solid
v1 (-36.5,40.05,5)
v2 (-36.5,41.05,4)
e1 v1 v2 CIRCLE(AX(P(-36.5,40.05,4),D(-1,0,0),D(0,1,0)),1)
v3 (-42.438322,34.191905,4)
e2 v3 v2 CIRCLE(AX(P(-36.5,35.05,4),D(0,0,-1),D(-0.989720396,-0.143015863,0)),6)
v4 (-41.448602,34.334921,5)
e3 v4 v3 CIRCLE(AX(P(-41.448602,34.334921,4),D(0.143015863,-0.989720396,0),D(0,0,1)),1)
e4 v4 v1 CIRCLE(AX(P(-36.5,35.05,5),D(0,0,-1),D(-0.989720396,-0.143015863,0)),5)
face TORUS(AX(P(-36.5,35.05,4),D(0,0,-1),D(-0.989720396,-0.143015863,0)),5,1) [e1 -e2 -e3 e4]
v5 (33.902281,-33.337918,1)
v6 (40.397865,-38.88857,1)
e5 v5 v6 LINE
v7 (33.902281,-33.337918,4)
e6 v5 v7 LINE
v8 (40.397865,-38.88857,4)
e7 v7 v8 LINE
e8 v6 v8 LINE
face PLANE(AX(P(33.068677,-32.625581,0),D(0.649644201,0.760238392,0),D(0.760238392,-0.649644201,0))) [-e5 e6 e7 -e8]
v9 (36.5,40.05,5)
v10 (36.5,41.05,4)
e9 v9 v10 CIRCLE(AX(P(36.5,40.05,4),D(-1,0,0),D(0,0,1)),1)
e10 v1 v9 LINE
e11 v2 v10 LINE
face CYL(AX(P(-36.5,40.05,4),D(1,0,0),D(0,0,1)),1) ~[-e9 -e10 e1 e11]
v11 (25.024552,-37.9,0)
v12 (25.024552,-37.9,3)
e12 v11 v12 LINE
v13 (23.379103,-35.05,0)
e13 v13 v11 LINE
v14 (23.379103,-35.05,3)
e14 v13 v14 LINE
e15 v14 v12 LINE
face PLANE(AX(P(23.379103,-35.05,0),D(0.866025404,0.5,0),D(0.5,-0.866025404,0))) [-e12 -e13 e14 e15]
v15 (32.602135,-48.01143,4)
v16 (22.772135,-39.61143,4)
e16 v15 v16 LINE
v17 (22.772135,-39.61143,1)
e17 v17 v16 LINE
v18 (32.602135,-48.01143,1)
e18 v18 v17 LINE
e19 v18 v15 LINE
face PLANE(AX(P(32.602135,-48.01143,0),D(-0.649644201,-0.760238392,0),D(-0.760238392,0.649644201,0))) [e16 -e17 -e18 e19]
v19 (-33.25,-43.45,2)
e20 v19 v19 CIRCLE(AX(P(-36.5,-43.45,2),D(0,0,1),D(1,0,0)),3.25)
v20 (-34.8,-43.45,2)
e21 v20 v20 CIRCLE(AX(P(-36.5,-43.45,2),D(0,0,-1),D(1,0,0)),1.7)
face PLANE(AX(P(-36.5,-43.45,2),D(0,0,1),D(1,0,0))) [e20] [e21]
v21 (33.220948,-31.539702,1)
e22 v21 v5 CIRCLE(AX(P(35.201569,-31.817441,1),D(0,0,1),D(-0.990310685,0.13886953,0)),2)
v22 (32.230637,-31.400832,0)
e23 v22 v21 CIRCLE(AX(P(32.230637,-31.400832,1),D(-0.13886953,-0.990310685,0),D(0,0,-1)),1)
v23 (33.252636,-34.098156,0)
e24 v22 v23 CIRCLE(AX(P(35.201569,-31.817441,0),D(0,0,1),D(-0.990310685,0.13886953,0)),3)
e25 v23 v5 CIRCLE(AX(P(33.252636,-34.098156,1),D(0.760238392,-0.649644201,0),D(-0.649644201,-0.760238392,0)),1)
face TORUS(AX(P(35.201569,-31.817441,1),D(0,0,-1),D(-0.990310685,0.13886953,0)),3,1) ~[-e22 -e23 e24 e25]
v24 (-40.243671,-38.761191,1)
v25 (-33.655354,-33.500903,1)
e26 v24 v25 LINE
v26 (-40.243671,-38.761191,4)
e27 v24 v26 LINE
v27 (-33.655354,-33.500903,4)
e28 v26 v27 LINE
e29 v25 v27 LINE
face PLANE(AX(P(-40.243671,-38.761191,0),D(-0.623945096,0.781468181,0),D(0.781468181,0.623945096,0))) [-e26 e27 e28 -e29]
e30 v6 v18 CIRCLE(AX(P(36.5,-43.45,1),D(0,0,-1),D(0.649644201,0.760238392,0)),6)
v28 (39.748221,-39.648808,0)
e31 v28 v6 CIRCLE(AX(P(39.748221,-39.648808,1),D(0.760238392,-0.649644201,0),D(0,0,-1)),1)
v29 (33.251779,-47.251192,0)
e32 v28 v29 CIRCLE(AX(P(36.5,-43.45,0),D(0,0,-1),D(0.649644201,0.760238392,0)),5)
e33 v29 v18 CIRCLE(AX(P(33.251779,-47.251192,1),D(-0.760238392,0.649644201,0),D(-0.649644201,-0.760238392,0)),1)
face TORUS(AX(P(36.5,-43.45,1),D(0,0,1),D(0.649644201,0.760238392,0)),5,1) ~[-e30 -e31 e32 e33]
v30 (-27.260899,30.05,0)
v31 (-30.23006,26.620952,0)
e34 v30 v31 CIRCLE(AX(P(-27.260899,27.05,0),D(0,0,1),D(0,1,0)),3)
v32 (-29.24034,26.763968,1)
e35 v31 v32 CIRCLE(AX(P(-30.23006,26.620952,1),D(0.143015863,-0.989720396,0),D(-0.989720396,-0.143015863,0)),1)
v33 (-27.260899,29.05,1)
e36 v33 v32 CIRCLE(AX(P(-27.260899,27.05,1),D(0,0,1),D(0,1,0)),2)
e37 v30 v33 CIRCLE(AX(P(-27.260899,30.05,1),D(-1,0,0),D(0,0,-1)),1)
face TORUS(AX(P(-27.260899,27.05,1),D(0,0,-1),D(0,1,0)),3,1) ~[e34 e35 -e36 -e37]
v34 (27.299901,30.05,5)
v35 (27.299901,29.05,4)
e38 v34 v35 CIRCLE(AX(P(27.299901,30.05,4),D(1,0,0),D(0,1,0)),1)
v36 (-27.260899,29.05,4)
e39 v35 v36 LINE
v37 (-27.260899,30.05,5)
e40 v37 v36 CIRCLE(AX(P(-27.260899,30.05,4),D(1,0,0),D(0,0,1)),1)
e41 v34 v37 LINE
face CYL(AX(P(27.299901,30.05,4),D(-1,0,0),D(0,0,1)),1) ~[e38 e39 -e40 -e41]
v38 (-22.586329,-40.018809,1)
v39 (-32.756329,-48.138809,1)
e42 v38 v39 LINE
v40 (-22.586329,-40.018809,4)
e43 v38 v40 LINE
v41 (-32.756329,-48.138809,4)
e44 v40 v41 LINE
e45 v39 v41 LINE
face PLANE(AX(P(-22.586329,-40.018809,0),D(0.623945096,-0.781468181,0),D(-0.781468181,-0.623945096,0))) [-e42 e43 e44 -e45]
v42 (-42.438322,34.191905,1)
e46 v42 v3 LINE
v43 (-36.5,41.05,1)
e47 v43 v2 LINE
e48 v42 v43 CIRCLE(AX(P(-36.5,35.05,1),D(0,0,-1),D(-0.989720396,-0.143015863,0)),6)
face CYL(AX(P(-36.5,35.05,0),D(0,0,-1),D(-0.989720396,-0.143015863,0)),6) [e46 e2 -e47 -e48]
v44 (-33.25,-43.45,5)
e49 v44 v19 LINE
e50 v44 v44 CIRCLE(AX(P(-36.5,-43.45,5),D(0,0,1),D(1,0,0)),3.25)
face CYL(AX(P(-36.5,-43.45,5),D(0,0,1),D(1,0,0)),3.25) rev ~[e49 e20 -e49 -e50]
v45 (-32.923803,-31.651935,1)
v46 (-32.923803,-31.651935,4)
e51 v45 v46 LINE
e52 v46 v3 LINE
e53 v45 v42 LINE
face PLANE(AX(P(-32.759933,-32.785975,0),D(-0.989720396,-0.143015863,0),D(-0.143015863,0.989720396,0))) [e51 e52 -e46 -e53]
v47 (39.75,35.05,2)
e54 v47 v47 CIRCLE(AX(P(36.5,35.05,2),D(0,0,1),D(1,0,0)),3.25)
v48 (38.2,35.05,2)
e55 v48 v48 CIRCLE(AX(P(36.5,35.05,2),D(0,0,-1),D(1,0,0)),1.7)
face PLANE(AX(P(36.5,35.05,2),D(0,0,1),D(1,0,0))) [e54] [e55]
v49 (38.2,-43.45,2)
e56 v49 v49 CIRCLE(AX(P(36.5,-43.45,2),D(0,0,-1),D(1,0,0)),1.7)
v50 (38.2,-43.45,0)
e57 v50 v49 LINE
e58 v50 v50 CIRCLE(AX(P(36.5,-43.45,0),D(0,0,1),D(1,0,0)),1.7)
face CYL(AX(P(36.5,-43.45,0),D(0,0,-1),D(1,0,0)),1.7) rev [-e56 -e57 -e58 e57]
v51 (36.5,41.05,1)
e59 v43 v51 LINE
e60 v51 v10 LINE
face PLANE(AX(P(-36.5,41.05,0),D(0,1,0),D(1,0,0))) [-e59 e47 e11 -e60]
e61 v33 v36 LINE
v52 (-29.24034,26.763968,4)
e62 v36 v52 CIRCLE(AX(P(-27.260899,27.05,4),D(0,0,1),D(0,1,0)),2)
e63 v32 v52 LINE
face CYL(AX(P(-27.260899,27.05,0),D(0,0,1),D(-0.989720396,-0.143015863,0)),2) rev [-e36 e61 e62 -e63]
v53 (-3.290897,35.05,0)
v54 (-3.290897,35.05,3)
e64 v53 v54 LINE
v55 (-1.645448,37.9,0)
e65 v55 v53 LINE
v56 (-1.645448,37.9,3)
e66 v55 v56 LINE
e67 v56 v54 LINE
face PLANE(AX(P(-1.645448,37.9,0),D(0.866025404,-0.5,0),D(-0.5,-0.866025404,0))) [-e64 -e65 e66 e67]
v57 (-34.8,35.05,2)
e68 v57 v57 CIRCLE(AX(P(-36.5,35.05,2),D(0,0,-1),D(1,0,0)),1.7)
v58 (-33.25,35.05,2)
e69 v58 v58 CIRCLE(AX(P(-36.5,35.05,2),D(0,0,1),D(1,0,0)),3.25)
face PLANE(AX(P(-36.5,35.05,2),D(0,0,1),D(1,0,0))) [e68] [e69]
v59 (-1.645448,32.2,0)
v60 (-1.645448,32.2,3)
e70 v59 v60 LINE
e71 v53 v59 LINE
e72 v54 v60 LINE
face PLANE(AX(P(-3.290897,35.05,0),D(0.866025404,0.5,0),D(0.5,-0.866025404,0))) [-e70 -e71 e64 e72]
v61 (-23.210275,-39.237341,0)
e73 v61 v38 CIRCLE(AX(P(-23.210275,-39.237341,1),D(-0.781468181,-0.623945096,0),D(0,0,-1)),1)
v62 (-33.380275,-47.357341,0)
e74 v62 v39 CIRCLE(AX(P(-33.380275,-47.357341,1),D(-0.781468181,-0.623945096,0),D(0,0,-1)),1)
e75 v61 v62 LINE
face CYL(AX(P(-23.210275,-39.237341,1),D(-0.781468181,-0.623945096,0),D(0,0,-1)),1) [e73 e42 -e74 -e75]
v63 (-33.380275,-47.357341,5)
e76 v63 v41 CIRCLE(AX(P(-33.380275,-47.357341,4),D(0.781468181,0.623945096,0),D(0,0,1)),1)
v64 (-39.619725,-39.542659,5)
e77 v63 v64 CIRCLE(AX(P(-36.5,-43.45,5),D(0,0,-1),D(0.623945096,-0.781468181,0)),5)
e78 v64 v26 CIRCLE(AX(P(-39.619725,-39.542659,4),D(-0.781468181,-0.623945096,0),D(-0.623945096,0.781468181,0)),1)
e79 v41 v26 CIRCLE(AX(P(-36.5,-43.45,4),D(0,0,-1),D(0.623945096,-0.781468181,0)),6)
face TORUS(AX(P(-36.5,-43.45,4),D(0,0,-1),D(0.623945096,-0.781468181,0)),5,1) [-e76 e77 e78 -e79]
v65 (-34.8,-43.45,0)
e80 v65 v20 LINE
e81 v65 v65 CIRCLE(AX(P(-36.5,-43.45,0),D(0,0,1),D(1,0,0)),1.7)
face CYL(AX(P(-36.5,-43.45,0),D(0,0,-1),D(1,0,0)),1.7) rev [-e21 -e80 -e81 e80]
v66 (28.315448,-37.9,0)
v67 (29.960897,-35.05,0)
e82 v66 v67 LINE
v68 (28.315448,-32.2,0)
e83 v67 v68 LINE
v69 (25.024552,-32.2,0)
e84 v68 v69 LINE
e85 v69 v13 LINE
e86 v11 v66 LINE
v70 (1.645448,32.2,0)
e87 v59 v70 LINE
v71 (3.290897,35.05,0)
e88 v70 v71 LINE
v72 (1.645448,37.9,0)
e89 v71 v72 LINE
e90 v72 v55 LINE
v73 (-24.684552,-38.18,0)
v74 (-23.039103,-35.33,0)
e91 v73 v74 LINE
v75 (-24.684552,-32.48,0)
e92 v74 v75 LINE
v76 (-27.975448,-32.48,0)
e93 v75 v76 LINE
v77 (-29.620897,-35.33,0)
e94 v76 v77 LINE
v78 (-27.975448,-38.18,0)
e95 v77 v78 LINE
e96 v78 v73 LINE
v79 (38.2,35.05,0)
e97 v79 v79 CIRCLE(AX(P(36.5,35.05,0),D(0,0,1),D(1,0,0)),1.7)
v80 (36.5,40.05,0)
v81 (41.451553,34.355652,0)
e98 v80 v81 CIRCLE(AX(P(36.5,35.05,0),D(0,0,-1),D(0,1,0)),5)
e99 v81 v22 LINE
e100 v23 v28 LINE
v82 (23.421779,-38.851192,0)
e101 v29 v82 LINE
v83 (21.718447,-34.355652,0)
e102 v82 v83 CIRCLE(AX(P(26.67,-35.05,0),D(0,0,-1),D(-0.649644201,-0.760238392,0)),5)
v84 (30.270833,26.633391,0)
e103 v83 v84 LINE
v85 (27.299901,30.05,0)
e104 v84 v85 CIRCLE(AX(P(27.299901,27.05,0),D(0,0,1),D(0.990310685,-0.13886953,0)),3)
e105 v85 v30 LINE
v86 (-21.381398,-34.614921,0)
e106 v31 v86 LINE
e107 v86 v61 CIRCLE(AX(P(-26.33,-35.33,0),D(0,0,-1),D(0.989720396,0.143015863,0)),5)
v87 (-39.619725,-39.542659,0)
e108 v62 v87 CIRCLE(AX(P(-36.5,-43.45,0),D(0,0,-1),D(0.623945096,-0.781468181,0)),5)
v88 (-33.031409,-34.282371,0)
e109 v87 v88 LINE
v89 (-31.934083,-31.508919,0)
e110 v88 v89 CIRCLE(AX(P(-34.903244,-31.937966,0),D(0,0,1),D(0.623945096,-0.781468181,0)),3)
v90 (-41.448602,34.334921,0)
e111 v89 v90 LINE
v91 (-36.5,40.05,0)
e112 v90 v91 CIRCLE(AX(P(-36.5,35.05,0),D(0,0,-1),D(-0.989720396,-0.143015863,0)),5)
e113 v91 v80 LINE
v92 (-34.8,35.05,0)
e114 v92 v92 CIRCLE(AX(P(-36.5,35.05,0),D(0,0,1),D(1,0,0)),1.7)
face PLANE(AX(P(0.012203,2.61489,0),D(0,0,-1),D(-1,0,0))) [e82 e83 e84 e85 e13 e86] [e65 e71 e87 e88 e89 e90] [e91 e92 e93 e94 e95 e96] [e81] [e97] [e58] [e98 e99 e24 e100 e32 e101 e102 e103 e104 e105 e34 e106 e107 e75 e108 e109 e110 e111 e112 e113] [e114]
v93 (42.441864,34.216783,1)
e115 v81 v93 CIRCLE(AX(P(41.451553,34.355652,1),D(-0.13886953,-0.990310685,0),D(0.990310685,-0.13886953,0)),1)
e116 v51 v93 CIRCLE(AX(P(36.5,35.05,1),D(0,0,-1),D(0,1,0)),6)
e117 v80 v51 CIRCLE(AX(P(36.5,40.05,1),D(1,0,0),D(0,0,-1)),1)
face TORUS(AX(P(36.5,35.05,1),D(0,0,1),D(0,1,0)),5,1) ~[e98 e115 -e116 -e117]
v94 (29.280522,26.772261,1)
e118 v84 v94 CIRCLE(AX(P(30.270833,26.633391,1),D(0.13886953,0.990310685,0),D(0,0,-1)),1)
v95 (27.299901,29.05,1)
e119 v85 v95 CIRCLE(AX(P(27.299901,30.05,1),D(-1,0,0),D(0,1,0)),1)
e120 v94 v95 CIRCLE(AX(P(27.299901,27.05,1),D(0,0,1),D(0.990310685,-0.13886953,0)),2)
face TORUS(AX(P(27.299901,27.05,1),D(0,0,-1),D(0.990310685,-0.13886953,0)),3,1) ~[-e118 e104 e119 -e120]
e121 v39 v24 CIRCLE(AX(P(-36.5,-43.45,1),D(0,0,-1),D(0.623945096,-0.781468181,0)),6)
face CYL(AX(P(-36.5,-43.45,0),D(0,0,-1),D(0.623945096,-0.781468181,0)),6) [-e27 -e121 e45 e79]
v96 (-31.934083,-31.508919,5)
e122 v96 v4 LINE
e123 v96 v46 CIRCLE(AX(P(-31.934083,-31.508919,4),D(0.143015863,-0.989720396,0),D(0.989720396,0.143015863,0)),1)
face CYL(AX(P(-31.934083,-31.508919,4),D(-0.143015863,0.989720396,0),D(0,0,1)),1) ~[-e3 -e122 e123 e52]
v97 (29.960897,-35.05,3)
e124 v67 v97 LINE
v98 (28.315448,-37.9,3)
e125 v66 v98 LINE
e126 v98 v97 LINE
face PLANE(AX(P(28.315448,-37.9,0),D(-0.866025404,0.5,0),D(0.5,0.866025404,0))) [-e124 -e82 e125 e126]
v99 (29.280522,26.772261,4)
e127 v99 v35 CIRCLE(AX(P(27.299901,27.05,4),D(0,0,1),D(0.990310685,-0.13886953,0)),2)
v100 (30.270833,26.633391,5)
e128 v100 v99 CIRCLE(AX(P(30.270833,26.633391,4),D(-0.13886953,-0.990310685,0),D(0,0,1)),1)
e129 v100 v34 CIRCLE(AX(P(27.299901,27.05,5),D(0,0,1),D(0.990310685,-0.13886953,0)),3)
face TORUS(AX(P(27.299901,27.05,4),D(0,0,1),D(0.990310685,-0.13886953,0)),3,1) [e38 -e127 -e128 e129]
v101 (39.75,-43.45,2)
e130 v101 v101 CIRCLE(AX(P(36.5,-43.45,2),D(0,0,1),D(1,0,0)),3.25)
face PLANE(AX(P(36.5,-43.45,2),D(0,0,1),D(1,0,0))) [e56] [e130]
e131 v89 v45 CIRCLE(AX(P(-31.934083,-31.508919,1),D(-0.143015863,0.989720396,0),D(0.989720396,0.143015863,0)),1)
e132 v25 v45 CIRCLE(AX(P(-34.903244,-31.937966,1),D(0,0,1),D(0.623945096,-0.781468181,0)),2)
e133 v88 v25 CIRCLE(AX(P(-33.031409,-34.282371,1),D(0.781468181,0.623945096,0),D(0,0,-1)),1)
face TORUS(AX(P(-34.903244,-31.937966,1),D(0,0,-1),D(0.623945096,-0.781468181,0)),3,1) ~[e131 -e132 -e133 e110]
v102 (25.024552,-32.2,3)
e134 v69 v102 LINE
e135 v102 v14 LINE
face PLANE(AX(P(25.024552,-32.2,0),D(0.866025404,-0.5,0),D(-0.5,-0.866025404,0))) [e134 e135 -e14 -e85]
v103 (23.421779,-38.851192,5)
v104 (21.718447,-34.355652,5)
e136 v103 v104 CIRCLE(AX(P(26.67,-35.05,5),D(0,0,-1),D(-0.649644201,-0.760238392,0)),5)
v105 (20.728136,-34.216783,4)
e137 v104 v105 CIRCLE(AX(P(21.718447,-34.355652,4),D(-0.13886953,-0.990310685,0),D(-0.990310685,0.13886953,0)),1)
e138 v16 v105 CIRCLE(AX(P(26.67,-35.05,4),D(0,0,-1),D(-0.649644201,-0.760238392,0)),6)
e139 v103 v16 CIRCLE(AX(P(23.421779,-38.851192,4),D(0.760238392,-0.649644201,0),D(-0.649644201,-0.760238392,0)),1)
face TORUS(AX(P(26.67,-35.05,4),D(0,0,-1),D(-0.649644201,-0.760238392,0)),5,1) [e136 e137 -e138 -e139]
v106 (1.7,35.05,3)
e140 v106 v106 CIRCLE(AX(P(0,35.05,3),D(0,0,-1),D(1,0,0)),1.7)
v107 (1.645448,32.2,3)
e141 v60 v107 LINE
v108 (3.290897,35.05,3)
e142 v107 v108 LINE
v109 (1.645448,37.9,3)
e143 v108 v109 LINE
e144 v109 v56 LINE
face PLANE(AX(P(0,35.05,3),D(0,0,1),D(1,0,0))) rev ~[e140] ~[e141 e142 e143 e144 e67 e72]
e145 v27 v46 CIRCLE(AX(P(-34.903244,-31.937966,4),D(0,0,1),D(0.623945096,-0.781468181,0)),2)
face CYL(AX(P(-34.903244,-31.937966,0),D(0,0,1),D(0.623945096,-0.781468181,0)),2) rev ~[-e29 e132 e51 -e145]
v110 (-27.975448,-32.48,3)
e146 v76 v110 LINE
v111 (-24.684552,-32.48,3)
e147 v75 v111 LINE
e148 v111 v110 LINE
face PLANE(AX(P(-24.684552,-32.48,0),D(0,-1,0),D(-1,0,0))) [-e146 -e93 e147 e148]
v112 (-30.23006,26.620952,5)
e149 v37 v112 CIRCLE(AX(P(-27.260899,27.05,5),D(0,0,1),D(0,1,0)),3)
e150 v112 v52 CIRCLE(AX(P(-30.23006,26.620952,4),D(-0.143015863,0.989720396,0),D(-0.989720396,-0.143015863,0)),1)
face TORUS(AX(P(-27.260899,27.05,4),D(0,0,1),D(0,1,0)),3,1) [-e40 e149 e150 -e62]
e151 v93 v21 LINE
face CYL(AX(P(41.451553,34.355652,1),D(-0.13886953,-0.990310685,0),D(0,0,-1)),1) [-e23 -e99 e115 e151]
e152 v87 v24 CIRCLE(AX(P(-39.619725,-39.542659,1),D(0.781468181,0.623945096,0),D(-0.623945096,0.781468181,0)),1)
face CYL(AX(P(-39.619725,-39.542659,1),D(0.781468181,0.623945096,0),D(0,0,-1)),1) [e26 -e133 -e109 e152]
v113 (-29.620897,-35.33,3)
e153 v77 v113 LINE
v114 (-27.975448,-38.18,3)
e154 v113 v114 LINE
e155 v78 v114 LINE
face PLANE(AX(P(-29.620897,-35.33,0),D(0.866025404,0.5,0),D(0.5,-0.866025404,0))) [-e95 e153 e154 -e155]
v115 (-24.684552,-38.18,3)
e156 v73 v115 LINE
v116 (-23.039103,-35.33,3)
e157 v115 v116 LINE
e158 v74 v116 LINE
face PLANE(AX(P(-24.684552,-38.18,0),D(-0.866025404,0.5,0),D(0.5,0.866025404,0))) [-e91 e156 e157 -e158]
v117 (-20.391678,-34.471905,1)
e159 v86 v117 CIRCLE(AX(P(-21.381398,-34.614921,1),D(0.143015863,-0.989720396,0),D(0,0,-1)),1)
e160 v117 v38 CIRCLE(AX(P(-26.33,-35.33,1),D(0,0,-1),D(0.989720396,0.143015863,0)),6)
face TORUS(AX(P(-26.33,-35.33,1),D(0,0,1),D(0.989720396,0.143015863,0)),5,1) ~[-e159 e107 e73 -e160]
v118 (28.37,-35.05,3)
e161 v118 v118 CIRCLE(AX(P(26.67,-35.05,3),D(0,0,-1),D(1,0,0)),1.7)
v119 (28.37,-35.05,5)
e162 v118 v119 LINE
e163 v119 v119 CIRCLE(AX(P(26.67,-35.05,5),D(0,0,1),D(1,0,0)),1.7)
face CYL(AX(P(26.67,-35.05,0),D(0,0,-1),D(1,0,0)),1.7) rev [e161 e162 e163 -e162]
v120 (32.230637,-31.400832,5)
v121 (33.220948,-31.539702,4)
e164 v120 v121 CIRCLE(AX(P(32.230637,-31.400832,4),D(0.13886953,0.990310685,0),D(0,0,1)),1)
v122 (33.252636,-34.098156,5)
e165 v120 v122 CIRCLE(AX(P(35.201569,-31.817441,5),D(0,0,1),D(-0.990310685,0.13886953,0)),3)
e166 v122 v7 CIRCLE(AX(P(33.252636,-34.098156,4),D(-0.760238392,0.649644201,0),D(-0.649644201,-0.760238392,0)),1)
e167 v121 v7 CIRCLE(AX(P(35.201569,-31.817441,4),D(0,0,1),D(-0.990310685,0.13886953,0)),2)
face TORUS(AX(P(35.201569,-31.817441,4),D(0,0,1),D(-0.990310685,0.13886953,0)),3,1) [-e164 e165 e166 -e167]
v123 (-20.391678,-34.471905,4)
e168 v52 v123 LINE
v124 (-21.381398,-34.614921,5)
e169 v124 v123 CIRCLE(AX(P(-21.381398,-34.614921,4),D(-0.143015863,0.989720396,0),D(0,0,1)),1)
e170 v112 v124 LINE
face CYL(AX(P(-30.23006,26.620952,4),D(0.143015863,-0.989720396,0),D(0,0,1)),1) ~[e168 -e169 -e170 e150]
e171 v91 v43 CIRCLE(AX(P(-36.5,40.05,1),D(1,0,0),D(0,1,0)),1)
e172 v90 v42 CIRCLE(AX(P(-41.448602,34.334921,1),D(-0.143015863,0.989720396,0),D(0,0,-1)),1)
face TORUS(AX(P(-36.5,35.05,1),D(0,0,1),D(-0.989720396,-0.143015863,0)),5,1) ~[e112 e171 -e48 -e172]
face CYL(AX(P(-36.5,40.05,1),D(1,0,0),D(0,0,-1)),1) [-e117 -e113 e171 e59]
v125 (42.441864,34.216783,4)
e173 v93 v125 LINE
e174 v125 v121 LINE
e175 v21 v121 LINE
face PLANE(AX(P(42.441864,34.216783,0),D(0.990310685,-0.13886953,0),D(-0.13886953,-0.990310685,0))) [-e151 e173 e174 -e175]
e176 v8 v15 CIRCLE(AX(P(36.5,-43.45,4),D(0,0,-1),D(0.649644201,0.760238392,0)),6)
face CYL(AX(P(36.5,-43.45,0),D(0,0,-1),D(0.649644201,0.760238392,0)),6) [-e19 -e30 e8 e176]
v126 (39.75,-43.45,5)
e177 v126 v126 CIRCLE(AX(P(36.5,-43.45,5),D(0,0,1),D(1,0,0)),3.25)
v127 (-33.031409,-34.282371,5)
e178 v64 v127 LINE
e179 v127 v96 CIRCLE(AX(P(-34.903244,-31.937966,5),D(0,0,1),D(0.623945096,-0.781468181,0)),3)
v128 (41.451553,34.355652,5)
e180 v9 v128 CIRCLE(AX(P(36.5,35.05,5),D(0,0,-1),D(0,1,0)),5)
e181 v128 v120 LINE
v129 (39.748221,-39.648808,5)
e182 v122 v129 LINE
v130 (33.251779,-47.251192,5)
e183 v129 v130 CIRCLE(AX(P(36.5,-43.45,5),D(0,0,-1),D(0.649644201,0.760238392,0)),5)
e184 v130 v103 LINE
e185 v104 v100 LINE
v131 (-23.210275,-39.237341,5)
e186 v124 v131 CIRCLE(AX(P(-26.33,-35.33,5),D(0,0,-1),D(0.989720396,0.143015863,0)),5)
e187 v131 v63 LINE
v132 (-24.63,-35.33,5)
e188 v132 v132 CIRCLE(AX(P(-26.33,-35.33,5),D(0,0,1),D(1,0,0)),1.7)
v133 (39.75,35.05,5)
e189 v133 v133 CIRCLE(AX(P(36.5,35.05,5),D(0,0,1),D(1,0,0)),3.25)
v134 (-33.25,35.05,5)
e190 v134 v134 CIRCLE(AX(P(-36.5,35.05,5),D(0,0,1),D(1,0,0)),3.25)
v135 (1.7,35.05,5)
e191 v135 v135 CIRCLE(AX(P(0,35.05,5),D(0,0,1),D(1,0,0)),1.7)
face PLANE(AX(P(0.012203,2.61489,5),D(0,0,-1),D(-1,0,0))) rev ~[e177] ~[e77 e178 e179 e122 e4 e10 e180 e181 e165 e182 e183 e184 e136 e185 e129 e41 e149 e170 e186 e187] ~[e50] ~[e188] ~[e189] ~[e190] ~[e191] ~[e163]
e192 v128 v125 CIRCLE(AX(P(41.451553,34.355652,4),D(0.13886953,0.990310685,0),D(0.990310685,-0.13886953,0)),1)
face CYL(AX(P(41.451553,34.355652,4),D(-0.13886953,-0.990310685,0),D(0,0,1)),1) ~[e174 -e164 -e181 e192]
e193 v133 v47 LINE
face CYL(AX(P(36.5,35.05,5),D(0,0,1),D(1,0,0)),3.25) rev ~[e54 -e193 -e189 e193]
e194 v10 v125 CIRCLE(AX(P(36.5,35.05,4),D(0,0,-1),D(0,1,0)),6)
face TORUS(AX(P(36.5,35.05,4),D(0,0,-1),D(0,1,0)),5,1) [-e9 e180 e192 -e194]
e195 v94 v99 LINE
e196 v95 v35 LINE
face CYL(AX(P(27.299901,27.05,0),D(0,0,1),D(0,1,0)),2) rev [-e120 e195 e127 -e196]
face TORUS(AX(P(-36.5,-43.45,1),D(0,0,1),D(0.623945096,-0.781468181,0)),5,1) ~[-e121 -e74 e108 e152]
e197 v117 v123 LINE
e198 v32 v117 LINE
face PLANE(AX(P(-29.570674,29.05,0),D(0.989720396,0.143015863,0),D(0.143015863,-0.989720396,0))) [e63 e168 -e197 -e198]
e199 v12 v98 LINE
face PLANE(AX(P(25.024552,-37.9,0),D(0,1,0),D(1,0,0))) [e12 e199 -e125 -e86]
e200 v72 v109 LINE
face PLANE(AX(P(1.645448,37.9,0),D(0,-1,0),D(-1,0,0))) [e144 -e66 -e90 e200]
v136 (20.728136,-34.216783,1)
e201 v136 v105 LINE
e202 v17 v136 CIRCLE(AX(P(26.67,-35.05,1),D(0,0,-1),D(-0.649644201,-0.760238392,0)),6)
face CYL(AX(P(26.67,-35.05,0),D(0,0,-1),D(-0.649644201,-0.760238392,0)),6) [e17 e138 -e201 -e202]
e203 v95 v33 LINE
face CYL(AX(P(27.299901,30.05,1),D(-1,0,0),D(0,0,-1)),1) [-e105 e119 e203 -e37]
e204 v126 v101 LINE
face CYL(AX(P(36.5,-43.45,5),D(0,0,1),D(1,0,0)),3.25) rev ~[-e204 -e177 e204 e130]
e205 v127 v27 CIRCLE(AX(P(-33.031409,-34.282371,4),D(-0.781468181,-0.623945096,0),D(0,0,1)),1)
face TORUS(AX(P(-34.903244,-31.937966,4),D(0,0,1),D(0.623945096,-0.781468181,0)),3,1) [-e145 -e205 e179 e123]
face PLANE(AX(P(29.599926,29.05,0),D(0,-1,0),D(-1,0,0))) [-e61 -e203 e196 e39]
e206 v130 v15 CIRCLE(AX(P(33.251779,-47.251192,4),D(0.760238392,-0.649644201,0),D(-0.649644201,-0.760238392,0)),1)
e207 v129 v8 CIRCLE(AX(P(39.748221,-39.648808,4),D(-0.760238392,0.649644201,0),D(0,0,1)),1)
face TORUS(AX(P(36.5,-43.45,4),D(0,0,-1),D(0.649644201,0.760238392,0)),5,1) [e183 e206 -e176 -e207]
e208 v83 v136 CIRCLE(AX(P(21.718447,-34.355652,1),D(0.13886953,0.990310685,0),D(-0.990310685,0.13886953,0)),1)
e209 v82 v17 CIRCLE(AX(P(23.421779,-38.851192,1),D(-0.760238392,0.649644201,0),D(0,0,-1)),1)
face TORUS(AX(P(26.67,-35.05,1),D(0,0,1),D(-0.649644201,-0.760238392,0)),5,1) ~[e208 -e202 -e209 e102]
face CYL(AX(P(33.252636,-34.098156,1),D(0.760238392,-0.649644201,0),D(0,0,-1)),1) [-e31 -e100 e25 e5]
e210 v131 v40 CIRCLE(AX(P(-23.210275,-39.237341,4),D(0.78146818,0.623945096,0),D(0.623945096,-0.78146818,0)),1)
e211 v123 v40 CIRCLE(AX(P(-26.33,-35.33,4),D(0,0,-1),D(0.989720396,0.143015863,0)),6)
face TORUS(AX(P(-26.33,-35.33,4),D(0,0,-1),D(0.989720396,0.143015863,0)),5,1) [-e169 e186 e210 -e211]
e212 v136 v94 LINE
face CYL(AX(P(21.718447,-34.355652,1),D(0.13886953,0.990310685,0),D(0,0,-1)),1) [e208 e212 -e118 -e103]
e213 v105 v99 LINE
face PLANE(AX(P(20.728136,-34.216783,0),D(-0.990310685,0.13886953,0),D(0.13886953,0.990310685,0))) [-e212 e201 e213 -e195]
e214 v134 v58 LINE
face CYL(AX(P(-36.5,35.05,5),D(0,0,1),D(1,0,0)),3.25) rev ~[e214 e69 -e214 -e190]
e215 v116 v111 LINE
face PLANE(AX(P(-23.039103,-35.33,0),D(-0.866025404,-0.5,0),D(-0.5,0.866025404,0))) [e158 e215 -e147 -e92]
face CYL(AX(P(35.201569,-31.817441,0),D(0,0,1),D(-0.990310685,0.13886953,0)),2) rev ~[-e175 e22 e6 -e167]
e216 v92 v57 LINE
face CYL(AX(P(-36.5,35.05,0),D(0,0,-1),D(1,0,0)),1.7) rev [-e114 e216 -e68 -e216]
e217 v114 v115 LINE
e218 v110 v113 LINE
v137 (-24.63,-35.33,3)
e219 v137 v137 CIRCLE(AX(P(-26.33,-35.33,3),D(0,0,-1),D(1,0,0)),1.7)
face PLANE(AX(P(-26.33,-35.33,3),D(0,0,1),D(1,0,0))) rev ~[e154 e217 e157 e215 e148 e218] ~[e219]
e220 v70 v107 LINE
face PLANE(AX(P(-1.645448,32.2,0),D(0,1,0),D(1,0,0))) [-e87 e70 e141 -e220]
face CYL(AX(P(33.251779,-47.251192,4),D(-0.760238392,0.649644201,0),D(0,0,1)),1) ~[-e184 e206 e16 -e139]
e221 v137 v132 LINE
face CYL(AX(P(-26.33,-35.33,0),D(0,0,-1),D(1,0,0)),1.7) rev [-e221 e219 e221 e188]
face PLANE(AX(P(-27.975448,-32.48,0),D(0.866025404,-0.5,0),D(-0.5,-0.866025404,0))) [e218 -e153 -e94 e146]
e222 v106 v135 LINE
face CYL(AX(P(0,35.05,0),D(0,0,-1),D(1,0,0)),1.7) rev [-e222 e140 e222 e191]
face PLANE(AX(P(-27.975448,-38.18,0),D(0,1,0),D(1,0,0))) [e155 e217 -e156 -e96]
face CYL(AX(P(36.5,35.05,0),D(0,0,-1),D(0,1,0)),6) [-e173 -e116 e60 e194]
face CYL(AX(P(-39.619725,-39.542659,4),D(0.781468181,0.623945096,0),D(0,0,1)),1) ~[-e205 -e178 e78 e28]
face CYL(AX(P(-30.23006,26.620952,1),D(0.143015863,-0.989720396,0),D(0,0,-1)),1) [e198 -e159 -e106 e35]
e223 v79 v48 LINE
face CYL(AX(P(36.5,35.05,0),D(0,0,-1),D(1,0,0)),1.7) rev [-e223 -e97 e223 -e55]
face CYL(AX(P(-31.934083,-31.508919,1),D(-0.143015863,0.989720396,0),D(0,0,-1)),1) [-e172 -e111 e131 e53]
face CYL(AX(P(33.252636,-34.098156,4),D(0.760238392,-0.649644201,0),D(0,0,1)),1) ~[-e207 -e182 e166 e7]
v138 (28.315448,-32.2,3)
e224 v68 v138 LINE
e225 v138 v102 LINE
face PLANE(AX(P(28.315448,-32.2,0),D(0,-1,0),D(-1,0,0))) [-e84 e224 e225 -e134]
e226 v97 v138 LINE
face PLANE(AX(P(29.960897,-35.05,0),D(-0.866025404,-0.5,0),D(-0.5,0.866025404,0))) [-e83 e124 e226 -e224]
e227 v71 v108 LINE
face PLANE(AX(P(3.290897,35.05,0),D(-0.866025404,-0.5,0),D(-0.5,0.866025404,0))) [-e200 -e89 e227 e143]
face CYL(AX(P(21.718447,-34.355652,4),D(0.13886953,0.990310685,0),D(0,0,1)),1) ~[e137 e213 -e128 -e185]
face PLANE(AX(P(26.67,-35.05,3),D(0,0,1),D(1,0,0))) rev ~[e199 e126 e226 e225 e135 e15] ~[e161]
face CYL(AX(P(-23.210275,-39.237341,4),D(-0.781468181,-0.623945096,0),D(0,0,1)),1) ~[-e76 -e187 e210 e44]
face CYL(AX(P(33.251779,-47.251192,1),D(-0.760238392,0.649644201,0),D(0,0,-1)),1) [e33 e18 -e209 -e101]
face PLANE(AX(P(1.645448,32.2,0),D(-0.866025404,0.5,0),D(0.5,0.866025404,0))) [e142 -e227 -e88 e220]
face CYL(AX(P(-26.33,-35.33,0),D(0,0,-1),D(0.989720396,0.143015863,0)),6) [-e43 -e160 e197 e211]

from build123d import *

# Parameters (mm, degrees)
ESQUISSE1_R             = 1.7
BOSS_EXTRU_1_DEPTH      = 5
CONG_1_R                = 2
ESQUISSE2_R             = 3.25
ENL_V_MAT_EXTRU_1_DEPTH = 3
ENL_V_MAT_EXTRU_2_DEPTH = 3
CONG_2_R                = 1


with BuildPart() as part:
    # Esquisse1 → Boss.-Extru.1 (new body)
    with BuildSketch(Plane.XY):
        with BuildLine():
            Line((-22.586329424, -40.018809083), (-32.756329424, -48.138809083))
            ThreePointArc((-32.756329424, -48.138809083), (-41.188809083, -47.193670576), (-40.243670576, -38.761190917))
            Line((-40.243670576, -38.761190917), (-32.759933126, -32.785974782))
            Line((-32.759933126, -32.785974782), (-42.438322378, 34.191904823))
            ThreePointArc((-42.438322378, 34.191904823), (-41.035888615, 38.977558334), (-36.5, 41.05))
            Line((-36.5, 41.05), (36.5, 41.05))
            ThreePointArc((36.5, 41.05), (41.027654088, 38.987048192), (42.441864113, 34.216782821))
            Line((42.441864113, 34.216782821), (33.06867678, -32.625580558))
            Line((33.06867678, -32.625580558), (40.397865204, -38.888569648))
            ThreePointArc((40.397865204, -38.888569648), (41.061430352, -47.347865204), (32.602134796, -48.011430352))
            Line((32.602134796, -48.011430352), (22.772134796, -39.611430352))
            ThreePointArc((22.772134796, -39.611430352), (21.059240359, -37.175882464), (20.728135887, -34.216782821))
            Line((20.728135887, -34.216782821), (29.599925832, 29.05))
            Line((29.599925832, 29.05), (-29.570674099, 29.05))
            Line((-29.570674099, 29.05), (-20.391677622, -34.471904823))
            ThreePointArc((-20.391677622, -34.471904823), (-20.750816941, -37.53742302), (-22.586329424, -40.018809083))
        make_face()
        with Locations((0, 35.05)):
            Circle(ESQUISSE1_R, mode=Mode.SUBTRACT)
        with Locations((-26.33, -35.33)):
            Circle(ESQUISSE1_R, mode=Mode.SUBTRACT)
        with Locations((26.67, -35.05)):
            Circle(ESQUISSE1_R, mode=Mode.SUBTRACT)
        with Locations((-36.5, 35.05)):
            Circle(ESQUISSE1_R, mode=Mode.SUBTRACT)
        with Locations((36.5, 35.05)):
            Circle(ESQUISSE1_R, mode=Mode.SUBTRACT)
        with Locations((-36.5, -43.45)):
            Circle(ESQUISSE1_R, mode=Mode.SUBTRACT)
        with Locations((36.5, -43.45)):
            Circle(ESQUISSE1_R, mode=Mode.SUBTRACT)
    extrude(amount=BOSS_EXTRU_1_DEPTH)

    # Congé1
    cong_1_edges = [part.edges().sort_by_distance(p)[0] for p in [
        (-32.759933126, -32.785974782, 2.5),
        (33.06867678, -32.625580558, 2.5),
        (29.599925832, 29.05, 2.5),
        (-29.570674099, 29.05, 2.5),
    ]]
    fillet(cong_1_edges, radius=CONG_1_R)

    # Esquisse2 → Enlèv. mat.-Extru.1 (cut)
    with BuildSketch(Plane.XY.offset(5)):
        with Locations((-36.5, 35.05)):
            Circle(ESQUISSE2_R)
        with Locations((36.5, 35.05)):
            Circle(ESQUISSE2_R)
        with Locations((36.5, -43.45)):
            Circle(ESQUISSE2_R)
        with Locations((-36.5, -43.45)):
            Circle(ESQUISSE2_R)
    extrude(amount=-ENL_V_MAT_EXTRU_1_DEPTH, mode=Mode.SUBTRACT)

    # Esquisse3 → Enlèv. mat.-Extru.2 (cut)
    with BuildSketch(Plane(origin=(0, 0, 0), x_dir=(-1, 0, 0), z_dir=(0, 0, -1))):
        Polygon((-1.645448267, 37.9), (1.645448267, 37.9), (3.290896534, 35.05), (1.645448267, 32.2), (-1.645448267, 32.2), (-3.290896534, 35.05), align=None)
        Polygon((-28.315448267, -32.2), (-25.024551733, -32.2), (-23.379103466, -35.05), (-25.024551733, -37.9), (-28.315448267, -37.9), (-29.960896534, -35.05), align=None)
        Polygon((24.684551733, -32.48), (27.975448267, -32.48), (29.620896534, -35.33), (27.975448267, -38.18), (24.684551733, -38.18), (23.039103466, -35.33), align=None)
    extrude(amount=-ENL_V_MAT_EXTRU_2_DEPTH, mode=Mode.SUBTRACT)

    # Congé2
    cong_2_edges = [part.edges().sort_by_distance(p)[0] for p in [
        (-27.671329424, -44.078809083, 0),
        (-41.188809083, -47.193670576, 0),
        (-37.681062877, 1.269985086, 0),
        (-41.035888615, 38.977558334, 0),
        (0, 41.05, 0),
        (41.027654088, 38.987048192, 0),
        (37.150072921, -36.113243588, 0),
        (41.061430352, -47.347865204, 0),
        (27.687134796, -43.811430352, 0),
        (21.059240359, -37.175882464, 0),
        (21.059240359, -37.175882464, 5),
        (-24.816008606, -3.853968274, 0),
        (-20.750816941, -37.53742302, 0),
        (27.687134796, -43.811430352, 5),
        (41.061430352, -47.347865204, 5),
        (37.150072921, -36.113243588, 5),
        (41.027654088, 38.987048192, 5),
        (0, 41.05, 5),
        (-41.035888615, 38.977558334, 5),
        (-20.750816941, -37.53742302, 5),
        (-37.681062877, 1.269985086, 5),
        (-41.188809083, -47.193670576, 5),
        (-27.671329424, -44.078809083, 5),
        (0.019501156, 29.05, 0),
        (0.019501156, 29.05, 5),
        (25.004329184, -3.72226094, 0),
        (25.004329184, -3.72226094, 5),
        (37.831405891, 1.338540569, 0),
        (37.831405891, 1.338540569, 5),
        (-36.949512276, -36.131046827, 0),
        (-36.949512276, -36.131046827, 5),
        (-28.77286167, 28.359186111, 0),
        (-28.77286167, 28.359186111, 5),
        (28.809119139, 28.362349397, 0),
        (28.809119139, 28.362349397, 5),
        (33.331315826, -32.526068232, 0),
        (33.331315826, -32.526068232, 5),
        (-33.043516481, -32.673774049, 0),
        (-33.043516481, -32.673774049, 5),
        (-24.816008606, -3.853968274, 5),
    ]]
    fillet(cong_2_edges, radius=CONG_2_R)


solid = part.part
